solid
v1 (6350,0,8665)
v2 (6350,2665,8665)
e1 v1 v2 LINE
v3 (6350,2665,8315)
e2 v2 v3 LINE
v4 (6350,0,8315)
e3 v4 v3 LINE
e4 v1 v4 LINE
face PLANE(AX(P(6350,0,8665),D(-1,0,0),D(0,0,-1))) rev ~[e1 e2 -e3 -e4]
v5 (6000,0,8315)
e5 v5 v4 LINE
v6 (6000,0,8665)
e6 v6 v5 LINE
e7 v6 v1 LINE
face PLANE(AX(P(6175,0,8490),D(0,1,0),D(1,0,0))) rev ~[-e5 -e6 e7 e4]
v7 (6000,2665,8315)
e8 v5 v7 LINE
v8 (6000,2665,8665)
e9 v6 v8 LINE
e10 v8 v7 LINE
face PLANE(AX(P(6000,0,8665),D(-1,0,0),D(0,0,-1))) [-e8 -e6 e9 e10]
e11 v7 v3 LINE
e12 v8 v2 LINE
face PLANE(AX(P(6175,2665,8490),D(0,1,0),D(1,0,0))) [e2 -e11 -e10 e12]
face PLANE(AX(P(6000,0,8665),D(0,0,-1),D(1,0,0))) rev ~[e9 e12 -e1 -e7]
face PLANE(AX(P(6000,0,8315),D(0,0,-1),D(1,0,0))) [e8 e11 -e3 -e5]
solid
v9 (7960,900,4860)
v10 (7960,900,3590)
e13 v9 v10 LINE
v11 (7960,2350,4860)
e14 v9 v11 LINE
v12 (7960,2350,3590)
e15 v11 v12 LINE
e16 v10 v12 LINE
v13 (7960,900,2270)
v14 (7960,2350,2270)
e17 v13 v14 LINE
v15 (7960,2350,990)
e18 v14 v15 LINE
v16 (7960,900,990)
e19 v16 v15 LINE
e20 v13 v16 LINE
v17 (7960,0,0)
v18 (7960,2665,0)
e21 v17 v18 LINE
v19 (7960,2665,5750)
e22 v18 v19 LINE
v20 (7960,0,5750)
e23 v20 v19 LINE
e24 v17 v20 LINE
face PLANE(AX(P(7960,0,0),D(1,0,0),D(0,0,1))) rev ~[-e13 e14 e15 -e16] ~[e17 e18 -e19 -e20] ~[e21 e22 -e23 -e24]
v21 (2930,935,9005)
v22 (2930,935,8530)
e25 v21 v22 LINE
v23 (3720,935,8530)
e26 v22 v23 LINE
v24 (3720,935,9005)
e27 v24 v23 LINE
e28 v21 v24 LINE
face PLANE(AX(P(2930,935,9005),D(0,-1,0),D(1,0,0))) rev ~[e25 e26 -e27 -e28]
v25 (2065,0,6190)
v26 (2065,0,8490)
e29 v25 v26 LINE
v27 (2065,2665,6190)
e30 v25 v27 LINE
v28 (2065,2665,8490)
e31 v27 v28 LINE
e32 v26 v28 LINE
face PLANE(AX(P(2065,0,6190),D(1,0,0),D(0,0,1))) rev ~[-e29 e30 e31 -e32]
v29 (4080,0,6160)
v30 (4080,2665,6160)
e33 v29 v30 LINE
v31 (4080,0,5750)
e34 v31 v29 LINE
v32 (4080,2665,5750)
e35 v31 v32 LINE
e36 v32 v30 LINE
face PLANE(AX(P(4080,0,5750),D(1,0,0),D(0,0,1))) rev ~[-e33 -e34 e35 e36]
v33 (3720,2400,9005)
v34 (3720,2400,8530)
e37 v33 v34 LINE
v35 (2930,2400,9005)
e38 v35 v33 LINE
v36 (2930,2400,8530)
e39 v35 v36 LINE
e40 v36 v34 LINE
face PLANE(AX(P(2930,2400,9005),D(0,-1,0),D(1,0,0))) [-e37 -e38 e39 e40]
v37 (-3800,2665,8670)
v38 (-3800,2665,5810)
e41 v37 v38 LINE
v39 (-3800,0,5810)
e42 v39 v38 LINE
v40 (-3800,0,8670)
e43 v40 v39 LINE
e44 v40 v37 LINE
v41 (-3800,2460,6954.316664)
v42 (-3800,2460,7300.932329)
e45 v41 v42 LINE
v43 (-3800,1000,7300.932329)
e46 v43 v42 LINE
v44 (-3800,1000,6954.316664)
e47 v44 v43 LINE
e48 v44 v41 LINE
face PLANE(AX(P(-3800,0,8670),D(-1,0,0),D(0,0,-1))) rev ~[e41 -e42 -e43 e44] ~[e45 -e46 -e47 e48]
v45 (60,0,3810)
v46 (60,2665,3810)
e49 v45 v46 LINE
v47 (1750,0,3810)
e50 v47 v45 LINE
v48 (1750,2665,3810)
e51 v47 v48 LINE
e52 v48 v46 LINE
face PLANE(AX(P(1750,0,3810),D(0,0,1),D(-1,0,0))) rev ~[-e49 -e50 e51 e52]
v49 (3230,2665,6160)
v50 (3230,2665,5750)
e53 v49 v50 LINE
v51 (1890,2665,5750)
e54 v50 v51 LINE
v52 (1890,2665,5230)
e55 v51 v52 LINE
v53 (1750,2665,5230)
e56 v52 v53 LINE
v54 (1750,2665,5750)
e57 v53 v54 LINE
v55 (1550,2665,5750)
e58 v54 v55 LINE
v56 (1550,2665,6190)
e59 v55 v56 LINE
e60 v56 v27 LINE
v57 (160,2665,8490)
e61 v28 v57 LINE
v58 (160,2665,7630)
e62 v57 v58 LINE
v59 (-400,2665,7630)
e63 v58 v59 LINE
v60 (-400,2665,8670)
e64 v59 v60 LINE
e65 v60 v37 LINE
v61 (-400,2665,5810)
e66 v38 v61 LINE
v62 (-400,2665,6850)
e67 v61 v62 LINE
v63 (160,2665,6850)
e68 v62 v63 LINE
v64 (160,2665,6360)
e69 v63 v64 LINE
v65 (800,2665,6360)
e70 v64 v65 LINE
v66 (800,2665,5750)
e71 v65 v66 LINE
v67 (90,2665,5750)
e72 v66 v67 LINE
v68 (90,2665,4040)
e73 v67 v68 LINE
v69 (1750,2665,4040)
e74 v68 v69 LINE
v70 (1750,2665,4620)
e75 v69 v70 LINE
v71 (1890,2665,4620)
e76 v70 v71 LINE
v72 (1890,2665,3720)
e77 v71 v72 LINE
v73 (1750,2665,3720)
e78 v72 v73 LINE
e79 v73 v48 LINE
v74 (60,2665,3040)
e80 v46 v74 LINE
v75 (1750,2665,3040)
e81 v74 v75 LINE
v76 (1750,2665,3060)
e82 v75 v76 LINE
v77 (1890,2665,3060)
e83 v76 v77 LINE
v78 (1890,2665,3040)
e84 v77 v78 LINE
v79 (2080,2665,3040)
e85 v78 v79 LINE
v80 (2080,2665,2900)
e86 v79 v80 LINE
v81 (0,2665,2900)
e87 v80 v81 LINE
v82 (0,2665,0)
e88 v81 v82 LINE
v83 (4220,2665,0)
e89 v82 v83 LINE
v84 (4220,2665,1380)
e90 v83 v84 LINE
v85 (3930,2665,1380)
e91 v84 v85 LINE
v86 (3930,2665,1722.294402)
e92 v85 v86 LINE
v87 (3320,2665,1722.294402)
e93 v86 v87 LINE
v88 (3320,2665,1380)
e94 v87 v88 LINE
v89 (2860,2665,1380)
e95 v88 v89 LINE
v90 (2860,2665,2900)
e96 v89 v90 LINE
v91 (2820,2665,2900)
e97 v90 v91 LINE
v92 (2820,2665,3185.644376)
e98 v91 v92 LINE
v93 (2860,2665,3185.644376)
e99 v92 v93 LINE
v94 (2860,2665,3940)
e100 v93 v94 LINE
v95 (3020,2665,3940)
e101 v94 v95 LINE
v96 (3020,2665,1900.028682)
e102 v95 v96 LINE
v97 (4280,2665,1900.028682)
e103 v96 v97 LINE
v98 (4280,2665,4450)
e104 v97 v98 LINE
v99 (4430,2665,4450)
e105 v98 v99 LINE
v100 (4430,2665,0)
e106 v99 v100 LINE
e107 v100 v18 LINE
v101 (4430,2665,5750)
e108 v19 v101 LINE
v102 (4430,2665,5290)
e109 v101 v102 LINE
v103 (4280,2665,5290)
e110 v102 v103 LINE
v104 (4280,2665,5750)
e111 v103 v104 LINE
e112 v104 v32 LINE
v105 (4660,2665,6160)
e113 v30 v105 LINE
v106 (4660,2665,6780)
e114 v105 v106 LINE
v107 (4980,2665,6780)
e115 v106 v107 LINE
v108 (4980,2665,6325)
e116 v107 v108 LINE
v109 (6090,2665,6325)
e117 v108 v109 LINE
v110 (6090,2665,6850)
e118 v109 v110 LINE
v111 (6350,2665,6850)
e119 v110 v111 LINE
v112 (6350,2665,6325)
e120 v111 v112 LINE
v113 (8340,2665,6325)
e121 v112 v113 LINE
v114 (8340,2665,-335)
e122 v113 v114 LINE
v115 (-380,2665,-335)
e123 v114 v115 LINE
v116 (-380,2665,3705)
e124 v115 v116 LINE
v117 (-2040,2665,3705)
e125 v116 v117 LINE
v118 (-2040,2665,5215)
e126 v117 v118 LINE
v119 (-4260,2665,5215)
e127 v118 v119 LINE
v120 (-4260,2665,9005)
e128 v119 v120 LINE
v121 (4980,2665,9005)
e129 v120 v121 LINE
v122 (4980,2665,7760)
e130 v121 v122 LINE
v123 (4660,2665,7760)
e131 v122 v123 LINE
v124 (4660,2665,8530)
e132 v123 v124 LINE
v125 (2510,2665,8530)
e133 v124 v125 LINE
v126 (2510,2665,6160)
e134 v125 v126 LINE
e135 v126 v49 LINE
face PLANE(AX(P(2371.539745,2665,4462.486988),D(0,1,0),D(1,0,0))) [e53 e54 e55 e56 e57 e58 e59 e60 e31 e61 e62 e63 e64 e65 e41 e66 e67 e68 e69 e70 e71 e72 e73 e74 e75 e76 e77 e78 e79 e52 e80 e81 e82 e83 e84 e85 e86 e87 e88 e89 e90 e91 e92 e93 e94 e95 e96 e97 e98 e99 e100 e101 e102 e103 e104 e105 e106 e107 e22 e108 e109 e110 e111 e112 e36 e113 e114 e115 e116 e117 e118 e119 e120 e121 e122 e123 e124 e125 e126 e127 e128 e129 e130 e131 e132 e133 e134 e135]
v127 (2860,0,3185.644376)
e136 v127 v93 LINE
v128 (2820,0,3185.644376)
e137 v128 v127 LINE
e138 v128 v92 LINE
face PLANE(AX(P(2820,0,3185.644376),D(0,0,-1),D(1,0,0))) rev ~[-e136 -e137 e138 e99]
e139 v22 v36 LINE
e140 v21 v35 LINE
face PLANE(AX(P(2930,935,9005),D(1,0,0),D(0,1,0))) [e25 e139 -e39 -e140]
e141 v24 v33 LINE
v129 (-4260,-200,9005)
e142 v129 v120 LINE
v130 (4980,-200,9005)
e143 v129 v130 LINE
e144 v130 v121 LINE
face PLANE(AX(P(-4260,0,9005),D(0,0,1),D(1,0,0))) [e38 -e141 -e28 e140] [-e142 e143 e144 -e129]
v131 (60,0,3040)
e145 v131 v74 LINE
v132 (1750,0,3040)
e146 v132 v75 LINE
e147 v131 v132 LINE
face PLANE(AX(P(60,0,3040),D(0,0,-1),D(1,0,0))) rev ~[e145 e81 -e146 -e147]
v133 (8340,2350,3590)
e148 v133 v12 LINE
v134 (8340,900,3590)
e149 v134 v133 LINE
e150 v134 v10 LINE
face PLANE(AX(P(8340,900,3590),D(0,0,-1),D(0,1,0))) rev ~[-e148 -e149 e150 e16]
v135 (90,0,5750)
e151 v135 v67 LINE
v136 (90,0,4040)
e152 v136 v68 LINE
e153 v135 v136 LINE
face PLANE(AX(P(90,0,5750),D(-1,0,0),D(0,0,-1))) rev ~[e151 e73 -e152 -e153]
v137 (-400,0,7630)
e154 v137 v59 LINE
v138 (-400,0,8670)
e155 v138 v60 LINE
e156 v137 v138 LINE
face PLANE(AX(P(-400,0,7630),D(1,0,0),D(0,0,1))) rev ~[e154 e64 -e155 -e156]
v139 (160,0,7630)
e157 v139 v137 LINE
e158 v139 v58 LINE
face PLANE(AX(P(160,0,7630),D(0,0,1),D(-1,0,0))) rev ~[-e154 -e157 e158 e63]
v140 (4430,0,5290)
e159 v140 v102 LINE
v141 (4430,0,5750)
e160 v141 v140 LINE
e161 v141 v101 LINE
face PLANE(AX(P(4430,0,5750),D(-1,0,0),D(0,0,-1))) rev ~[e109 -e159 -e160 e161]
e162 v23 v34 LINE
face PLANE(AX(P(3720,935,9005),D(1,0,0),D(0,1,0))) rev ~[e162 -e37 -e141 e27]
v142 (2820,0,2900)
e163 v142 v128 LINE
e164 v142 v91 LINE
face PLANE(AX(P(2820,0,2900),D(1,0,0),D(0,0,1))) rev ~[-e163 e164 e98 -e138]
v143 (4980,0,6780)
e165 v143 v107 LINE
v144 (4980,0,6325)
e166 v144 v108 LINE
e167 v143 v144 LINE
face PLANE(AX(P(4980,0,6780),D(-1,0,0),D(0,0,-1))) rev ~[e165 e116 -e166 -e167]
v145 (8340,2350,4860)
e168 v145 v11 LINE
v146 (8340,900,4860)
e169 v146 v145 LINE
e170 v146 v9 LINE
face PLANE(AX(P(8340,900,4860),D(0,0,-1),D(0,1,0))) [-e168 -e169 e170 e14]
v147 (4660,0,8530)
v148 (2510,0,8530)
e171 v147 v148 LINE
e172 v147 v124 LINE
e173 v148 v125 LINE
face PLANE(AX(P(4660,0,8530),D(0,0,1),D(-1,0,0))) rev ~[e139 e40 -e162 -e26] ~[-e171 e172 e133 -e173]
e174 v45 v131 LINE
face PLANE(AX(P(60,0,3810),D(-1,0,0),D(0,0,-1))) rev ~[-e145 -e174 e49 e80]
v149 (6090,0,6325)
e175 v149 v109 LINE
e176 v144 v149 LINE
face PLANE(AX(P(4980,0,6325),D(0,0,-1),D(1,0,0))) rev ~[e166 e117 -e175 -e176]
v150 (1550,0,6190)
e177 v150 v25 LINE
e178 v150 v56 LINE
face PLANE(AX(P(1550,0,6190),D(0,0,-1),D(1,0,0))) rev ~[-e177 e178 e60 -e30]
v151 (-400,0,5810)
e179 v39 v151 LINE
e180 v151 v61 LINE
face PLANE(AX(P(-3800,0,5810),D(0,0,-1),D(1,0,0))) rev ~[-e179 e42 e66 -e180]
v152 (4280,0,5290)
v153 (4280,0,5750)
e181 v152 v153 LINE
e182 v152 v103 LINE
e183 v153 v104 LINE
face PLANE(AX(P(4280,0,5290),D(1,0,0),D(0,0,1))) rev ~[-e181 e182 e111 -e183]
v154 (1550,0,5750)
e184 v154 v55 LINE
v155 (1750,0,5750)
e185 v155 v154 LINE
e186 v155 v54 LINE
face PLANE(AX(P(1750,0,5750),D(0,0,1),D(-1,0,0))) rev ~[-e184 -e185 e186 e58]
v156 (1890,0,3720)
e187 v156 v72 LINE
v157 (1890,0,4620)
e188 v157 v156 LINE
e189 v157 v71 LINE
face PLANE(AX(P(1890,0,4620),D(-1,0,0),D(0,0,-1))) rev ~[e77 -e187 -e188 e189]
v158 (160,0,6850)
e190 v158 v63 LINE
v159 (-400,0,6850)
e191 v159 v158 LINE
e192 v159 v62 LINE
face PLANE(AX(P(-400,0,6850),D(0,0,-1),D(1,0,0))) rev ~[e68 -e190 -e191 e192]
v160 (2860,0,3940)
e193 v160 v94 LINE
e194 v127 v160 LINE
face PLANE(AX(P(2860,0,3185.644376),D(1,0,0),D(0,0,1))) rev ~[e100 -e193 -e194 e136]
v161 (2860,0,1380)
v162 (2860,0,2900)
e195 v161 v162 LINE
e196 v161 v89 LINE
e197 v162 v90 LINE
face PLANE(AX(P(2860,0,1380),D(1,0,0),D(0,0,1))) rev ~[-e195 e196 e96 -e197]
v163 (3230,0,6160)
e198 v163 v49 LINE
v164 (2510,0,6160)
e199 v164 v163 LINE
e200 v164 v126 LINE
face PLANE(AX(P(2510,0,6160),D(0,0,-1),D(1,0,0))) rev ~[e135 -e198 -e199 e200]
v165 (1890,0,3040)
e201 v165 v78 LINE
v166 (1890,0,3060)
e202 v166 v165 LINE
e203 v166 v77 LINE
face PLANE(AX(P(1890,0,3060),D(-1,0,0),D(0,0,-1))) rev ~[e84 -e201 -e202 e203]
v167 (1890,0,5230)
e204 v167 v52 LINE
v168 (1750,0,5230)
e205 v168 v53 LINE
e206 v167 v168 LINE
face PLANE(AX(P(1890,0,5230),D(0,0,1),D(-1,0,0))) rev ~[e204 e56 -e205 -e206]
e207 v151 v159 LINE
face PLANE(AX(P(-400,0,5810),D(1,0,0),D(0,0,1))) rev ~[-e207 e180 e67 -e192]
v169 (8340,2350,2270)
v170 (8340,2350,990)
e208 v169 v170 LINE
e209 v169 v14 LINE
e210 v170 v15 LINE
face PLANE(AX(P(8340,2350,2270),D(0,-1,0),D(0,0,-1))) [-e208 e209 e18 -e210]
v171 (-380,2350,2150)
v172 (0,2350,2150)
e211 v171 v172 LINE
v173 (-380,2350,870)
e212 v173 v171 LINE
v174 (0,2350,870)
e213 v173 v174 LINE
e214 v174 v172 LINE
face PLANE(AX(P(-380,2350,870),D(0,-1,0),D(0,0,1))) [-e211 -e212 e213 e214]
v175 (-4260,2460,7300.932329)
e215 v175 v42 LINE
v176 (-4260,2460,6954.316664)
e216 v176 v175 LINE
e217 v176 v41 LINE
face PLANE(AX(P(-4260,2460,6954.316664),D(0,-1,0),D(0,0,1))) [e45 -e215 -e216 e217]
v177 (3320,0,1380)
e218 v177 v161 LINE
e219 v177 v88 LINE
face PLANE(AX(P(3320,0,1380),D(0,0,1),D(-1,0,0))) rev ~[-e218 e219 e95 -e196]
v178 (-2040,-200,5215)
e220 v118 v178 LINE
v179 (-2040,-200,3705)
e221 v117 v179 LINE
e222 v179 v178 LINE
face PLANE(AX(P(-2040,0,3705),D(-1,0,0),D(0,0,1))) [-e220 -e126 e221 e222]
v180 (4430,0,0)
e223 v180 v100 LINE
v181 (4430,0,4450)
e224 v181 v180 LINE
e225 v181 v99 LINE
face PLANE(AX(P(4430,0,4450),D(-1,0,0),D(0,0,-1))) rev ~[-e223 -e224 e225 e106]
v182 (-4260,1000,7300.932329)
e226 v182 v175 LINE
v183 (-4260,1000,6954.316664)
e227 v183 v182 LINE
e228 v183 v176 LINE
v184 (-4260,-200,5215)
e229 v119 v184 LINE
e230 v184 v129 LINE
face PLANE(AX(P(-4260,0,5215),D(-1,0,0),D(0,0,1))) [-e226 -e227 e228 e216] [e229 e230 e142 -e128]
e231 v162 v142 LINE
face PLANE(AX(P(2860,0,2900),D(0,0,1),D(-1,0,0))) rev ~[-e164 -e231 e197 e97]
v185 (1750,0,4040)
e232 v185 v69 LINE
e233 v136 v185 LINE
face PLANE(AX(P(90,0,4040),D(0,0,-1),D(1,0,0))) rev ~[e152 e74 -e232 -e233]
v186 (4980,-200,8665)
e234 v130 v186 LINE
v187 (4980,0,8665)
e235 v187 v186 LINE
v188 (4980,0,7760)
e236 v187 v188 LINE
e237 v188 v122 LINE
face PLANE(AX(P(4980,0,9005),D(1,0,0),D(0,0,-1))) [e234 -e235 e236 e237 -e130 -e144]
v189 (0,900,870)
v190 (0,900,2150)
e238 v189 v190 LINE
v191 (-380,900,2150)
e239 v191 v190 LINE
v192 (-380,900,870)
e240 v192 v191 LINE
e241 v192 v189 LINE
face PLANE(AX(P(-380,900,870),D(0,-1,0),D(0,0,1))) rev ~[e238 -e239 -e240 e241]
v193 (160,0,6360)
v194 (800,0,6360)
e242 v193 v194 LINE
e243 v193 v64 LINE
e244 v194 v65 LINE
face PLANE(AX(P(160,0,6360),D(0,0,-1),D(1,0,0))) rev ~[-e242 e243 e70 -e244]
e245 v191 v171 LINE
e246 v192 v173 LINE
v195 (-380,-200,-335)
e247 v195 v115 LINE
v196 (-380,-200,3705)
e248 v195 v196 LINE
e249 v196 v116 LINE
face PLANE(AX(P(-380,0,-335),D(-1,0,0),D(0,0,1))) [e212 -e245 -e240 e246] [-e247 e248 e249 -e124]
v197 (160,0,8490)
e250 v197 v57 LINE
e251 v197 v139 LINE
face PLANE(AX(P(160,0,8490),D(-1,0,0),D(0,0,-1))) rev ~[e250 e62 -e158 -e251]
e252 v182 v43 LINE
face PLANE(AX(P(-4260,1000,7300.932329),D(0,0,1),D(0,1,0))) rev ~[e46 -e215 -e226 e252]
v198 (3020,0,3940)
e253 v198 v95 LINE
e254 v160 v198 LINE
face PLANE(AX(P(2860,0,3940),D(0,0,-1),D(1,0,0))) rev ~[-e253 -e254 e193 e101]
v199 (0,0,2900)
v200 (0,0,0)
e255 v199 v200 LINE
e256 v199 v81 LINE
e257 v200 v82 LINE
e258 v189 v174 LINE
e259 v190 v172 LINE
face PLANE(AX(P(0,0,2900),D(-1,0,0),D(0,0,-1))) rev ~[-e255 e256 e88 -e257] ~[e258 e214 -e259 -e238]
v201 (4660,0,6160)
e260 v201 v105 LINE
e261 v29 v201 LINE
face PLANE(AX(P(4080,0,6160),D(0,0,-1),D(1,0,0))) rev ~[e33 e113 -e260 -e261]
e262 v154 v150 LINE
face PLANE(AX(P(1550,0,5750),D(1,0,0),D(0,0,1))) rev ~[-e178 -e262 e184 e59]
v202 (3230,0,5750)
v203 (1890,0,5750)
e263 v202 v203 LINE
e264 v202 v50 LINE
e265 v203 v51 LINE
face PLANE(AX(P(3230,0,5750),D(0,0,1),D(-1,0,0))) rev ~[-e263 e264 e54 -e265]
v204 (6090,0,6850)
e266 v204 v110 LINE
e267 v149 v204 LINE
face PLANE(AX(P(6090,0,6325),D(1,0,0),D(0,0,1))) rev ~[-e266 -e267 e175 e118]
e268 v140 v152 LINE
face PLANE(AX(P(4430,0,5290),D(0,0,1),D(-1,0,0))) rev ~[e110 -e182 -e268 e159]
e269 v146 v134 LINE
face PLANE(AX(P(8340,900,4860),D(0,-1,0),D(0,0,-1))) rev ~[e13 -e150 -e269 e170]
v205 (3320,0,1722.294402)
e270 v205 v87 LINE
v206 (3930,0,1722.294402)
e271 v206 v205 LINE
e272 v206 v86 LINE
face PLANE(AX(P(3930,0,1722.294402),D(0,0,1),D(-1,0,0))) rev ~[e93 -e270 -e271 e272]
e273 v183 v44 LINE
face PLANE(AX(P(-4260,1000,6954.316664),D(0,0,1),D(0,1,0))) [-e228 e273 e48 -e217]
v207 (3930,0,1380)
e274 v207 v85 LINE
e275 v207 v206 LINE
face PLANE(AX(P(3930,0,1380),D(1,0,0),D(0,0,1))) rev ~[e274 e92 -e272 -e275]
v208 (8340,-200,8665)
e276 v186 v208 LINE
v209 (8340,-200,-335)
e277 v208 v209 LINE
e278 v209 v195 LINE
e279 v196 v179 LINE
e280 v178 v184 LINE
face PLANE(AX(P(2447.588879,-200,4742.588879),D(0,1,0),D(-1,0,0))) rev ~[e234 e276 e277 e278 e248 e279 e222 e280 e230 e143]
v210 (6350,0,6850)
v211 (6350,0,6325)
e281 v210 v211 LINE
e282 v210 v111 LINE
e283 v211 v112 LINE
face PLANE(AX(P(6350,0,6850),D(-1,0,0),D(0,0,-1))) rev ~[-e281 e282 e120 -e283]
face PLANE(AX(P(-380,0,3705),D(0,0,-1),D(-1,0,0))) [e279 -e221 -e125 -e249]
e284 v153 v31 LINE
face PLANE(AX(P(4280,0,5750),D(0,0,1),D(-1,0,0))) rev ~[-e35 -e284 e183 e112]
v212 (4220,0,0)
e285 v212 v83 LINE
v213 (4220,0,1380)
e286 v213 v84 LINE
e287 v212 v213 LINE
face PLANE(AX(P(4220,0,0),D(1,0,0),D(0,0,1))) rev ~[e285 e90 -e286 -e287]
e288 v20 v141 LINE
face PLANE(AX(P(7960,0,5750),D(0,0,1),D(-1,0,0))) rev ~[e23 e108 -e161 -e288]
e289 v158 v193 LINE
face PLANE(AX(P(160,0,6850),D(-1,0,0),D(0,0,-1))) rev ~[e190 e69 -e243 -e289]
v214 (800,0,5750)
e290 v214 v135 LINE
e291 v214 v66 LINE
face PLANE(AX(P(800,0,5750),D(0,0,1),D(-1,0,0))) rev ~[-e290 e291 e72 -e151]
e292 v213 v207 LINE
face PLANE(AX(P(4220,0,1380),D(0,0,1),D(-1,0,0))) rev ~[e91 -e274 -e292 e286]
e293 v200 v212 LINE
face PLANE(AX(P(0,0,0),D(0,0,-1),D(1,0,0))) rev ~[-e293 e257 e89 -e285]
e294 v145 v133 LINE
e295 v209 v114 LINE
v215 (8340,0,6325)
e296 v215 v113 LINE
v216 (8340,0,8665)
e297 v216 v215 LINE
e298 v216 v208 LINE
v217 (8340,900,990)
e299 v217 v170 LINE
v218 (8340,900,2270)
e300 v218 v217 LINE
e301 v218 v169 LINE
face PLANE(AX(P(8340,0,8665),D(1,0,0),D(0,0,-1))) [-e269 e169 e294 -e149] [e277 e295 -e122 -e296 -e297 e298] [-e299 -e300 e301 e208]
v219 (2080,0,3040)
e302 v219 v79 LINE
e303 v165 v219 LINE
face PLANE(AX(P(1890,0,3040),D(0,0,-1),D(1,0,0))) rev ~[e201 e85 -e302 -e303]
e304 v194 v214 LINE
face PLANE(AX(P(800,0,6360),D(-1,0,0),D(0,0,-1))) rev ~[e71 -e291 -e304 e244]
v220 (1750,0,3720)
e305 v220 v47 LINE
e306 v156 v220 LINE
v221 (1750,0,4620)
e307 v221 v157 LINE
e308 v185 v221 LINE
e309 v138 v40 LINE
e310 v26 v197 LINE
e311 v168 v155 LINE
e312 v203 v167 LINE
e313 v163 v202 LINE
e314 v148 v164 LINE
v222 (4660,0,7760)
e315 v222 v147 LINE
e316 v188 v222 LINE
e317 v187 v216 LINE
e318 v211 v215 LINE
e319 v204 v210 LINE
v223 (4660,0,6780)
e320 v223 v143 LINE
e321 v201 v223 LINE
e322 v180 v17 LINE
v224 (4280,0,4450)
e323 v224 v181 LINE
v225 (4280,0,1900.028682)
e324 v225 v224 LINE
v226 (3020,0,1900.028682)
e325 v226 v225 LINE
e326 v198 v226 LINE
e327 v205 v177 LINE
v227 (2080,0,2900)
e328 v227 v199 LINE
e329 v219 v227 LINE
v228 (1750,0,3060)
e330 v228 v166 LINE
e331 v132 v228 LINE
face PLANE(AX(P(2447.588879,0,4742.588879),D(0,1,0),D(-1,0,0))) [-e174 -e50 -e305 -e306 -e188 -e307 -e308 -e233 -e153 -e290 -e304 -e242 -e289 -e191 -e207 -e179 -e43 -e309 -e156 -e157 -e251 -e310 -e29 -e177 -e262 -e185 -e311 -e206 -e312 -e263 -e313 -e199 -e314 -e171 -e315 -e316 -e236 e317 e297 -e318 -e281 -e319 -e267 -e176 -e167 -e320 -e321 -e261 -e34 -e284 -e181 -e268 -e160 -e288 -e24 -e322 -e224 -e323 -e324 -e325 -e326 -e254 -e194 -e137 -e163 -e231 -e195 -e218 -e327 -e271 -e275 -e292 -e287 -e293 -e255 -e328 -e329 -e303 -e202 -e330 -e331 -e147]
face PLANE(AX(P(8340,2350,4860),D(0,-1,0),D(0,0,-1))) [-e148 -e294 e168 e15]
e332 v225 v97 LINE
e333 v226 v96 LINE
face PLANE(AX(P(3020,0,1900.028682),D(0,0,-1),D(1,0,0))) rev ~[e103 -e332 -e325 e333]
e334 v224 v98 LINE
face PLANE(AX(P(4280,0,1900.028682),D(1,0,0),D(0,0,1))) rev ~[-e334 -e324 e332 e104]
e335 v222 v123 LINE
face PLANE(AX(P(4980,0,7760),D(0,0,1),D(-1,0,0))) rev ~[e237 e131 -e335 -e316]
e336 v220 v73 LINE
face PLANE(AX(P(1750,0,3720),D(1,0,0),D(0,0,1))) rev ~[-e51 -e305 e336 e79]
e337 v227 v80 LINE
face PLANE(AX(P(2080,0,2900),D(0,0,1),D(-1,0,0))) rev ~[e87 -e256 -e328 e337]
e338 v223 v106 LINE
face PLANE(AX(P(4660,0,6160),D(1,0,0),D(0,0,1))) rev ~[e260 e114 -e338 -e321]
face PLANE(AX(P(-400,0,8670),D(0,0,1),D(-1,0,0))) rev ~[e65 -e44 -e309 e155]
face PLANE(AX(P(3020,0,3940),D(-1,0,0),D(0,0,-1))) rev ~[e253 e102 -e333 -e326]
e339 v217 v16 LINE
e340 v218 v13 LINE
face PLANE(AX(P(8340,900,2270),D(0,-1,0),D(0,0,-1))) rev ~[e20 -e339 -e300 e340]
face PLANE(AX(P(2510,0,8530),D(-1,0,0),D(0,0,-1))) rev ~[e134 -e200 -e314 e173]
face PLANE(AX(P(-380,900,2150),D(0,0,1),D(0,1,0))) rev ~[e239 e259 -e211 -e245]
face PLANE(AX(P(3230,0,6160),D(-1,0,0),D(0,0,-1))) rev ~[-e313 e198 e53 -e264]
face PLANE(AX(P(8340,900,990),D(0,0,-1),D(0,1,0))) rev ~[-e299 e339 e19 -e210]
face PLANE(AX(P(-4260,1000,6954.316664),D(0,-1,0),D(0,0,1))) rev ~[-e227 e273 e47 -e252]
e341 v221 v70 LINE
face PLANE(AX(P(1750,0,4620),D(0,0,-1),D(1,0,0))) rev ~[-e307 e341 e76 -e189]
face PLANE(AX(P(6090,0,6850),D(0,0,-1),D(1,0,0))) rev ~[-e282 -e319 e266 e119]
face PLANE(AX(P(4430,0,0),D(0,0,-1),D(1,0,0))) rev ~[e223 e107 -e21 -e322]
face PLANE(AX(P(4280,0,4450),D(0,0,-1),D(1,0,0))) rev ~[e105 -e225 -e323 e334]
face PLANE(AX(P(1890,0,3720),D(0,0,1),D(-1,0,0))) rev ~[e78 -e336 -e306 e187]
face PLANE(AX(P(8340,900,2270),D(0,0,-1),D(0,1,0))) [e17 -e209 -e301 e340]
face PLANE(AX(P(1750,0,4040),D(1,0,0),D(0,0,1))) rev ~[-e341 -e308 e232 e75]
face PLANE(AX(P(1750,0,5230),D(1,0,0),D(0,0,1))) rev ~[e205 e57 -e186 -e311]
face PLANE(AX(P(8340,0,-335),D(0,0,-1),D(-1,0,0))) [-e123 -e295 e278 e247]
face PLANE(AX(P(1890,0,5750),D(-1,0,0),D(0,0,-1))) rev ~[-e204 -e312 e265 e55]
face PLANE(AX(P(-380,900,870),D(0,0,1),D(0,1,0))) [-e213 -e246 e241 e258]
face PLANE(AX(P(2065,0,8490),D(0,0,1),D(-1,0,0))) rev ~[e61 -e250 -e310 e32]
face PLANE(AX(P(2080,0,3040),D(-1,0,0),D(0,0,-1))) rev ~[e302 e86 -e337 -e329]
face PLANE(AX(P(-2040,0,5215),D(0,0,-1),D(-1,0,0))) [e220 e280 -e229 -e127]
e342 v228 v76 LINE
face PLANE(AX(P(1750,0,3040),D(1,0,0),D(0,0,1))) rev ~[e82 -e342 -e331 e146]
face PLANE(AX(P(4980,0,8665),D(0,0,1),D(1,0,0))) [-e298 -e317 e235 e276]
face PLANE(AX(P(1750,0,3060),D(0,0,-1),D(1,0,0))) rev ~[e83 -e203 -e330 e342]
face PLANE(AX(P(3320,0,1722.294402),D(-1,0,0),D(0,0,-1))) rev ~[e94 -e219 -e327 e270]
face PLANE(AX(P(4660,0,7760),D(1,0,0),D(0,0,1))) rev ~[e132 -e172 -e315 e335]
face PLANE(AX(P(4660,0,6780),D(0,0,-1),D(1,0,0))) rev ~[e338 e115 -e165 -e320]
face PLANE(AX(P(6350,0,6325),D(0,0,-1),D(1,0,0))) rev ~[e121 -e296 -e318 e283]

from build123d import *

# Parameters (mm, degrees)
EXTRUDE_1_DEPTH     = 2665
SKETCH_1_W          = 350
SKETCH_1_H          = 350
EXTRUDE_1_2_DEPTH   = 2665
EXTRUDE_2_DEPTH     = 200
SKETCH_3_W          = 1270
SKETCH_3_H          = 1450
SKETCH_3_W_2        = 1280
CUT_EXTRUDE_1_DEPTH = 380
SKETCH_4_W          = 1280
SKETCH_4_H          = 1450
CUT_EXTRUDE_2_DEPTH = 380
SKETCH_5_W          = 346.615664156
SKETCH_5_H          = 1460
CUT_EXTRUDE_3_DEPTH = 460
SKETCH_6_W          = 790
SKETCH_6_H          = 1465
CUT_EXTRUDE_4_DEPTH = 475


with BuildPart() as part:
    # Эскиз1 → Бобышка-Вытянуть1 (new body)
    with BuildSketch(Plane(origin=(0, 0, 0), x_dir=(1, 0, 0), z_dir=(0, 1, 0))):
        Polygon((0, 0), (4220, 0), (4220, -1380), (3930, -1380), (3930, -1722.294402301), (3320, -1722.294402301), (3320, -1380), (2860, -1380), (2860, -2900), (2820, -2900), (2820, -3185.644376016), (2860, -3185.644376016), (2860, -3940), (3020, -3940), (3020, -1900.028681712), (4280, -1900.028681712), (4280, -4450), (4430, -4450), (4430, 0), (7960, 0), (7960, -5750), (4430, -5750), (4430, -5290), (4280, -5290), (4280, -5750), (4080, -5750), (4080, -6160), (4660, -6160), (4660, -6780), (4980, -6780), (4980, -6325), (6090, -6325), (6090, -6850), (6350, -6850), (6350, -6325), (8340, -6325), (8340, 335), (-380, 335), (-380, -3705), (-2040, -3705), (-2040, -5215), (-4260, -5215), (-4260, -9005), (4980, -9005), (4980, -7760), (4660, -7760), (4660, -8530), (2510, -8530), (2510, -6160), (3230, -6160), (3230, -5750), (1890, -5750), (1890, -5230), (1750, -5230), (1750, -5750), (1550, -5750), (1550, -6190), (2065, -6190), (2065, -8490), (160, -8490), (160, -7630), (-400, -7630), (-400, -8670), (-3800, -8670), (-3800, -5810), (-400, -5810), (-400, -6850), (160, -6850), (160, -6360), (723.669572164, -6360), (800, -6360), (800, -5750), (90, -5750), (90, -4040), (1750, -4040), (1750, -4620), (1890, -4620), (1890, -3720), (1750, -3720), (1750, -3810), (60, -3810), (60, -3040), (1750, -3040), (1750, -3060), (1890, -3060), (1890, -3040), (2080, -3040), (2080, -2900), (0, -2900), align=None)
    extrude(amount=EXTRUDE_1_DEPTH)

    # Эскиз2 → Бобышка-Вытянуть2 (add)
    with BuildSketch(Plane.XZ):
        Polygon((-4260, 5215), (-4260, 9005), (4980, 9005), (4980, 8665), (8340, 8665), (8340, -335), (-380, -335), (-380, 3705), (-2040, 3705), (-2040, 5215), align=None)
    extrude(amount=EXTRUDE_2_DEPTH)

    # Эскиз3 → Вырез-Вытянуть1 (cut)
    with BuildSketch(Plane(origin=(8340, 0, 0), x_dir=(0, 0, -1), z_dir=(1, 0, 0))):
        with Locations((-4225, 1625)):
            Rectangle(SKETCH_3_W, SKETCH_3_H)
        with Locations((-1630, 1625)):
            Rectangle(SKETCH_3_W_2, SKETCH_3_H)
    extrude(amount=-CUT_EXTRUDE_1_DEPTH, mode=Mode.SUBTRACT)

    # Эскиз4 → Вырез-Вытянуть2 (cut)
    with BuildSketch(Plane.ZY.offset(380)):
        with Locations((1510, 1625)):
            Rectangle(SKETCH_4_W, SKETCH_4_H)
    extrude(amount=-CUT_EXTRUDE_2_DEPTH, mode=Mode.SUBTRACT)

    # Эскиз5 → Вырез-Вытянуть3 (cut)
    with BuildSketch(Plane.ZY.offset(4260)):
        with Locations((7127.624496434, 1730)):
            Rectangle(SKETCH_5_W, SKETCH_5_H)
    extrude(amount=-CUT_EXTRUDE_3_DEPTH, mode=Mode.SUBTRACT)

    # Эскиз6 → Вырез-Вытянуть4 (cut)
    with BuildSketch(Plane.XY.offset(9005)):
        with Locations((3325, 1667.5)):
            Rectangle(SKETCH_6_W, SKETCH_6_H)
    extrude(amount=-CUT_EXTRUDE_4_DEPTH, mode=Mode.SUBTRACT)


with BuildPart() as body_2:
    # Эскиз1 → Extrude 1 2 (new body)
    with BuildSketch(Plane(origin=(0, 0, 0), x_dir=(1, 0, 0), z_dir=(0, 1, 0))):
        with Locations((6175, -8490)):
            Rectangle(SKETCH_1_W, SKETCH_1_H)
    extrude(amount=EXTRUDE_1_2_DEPTH)


solid = Compound([part.part, body_2.part])
